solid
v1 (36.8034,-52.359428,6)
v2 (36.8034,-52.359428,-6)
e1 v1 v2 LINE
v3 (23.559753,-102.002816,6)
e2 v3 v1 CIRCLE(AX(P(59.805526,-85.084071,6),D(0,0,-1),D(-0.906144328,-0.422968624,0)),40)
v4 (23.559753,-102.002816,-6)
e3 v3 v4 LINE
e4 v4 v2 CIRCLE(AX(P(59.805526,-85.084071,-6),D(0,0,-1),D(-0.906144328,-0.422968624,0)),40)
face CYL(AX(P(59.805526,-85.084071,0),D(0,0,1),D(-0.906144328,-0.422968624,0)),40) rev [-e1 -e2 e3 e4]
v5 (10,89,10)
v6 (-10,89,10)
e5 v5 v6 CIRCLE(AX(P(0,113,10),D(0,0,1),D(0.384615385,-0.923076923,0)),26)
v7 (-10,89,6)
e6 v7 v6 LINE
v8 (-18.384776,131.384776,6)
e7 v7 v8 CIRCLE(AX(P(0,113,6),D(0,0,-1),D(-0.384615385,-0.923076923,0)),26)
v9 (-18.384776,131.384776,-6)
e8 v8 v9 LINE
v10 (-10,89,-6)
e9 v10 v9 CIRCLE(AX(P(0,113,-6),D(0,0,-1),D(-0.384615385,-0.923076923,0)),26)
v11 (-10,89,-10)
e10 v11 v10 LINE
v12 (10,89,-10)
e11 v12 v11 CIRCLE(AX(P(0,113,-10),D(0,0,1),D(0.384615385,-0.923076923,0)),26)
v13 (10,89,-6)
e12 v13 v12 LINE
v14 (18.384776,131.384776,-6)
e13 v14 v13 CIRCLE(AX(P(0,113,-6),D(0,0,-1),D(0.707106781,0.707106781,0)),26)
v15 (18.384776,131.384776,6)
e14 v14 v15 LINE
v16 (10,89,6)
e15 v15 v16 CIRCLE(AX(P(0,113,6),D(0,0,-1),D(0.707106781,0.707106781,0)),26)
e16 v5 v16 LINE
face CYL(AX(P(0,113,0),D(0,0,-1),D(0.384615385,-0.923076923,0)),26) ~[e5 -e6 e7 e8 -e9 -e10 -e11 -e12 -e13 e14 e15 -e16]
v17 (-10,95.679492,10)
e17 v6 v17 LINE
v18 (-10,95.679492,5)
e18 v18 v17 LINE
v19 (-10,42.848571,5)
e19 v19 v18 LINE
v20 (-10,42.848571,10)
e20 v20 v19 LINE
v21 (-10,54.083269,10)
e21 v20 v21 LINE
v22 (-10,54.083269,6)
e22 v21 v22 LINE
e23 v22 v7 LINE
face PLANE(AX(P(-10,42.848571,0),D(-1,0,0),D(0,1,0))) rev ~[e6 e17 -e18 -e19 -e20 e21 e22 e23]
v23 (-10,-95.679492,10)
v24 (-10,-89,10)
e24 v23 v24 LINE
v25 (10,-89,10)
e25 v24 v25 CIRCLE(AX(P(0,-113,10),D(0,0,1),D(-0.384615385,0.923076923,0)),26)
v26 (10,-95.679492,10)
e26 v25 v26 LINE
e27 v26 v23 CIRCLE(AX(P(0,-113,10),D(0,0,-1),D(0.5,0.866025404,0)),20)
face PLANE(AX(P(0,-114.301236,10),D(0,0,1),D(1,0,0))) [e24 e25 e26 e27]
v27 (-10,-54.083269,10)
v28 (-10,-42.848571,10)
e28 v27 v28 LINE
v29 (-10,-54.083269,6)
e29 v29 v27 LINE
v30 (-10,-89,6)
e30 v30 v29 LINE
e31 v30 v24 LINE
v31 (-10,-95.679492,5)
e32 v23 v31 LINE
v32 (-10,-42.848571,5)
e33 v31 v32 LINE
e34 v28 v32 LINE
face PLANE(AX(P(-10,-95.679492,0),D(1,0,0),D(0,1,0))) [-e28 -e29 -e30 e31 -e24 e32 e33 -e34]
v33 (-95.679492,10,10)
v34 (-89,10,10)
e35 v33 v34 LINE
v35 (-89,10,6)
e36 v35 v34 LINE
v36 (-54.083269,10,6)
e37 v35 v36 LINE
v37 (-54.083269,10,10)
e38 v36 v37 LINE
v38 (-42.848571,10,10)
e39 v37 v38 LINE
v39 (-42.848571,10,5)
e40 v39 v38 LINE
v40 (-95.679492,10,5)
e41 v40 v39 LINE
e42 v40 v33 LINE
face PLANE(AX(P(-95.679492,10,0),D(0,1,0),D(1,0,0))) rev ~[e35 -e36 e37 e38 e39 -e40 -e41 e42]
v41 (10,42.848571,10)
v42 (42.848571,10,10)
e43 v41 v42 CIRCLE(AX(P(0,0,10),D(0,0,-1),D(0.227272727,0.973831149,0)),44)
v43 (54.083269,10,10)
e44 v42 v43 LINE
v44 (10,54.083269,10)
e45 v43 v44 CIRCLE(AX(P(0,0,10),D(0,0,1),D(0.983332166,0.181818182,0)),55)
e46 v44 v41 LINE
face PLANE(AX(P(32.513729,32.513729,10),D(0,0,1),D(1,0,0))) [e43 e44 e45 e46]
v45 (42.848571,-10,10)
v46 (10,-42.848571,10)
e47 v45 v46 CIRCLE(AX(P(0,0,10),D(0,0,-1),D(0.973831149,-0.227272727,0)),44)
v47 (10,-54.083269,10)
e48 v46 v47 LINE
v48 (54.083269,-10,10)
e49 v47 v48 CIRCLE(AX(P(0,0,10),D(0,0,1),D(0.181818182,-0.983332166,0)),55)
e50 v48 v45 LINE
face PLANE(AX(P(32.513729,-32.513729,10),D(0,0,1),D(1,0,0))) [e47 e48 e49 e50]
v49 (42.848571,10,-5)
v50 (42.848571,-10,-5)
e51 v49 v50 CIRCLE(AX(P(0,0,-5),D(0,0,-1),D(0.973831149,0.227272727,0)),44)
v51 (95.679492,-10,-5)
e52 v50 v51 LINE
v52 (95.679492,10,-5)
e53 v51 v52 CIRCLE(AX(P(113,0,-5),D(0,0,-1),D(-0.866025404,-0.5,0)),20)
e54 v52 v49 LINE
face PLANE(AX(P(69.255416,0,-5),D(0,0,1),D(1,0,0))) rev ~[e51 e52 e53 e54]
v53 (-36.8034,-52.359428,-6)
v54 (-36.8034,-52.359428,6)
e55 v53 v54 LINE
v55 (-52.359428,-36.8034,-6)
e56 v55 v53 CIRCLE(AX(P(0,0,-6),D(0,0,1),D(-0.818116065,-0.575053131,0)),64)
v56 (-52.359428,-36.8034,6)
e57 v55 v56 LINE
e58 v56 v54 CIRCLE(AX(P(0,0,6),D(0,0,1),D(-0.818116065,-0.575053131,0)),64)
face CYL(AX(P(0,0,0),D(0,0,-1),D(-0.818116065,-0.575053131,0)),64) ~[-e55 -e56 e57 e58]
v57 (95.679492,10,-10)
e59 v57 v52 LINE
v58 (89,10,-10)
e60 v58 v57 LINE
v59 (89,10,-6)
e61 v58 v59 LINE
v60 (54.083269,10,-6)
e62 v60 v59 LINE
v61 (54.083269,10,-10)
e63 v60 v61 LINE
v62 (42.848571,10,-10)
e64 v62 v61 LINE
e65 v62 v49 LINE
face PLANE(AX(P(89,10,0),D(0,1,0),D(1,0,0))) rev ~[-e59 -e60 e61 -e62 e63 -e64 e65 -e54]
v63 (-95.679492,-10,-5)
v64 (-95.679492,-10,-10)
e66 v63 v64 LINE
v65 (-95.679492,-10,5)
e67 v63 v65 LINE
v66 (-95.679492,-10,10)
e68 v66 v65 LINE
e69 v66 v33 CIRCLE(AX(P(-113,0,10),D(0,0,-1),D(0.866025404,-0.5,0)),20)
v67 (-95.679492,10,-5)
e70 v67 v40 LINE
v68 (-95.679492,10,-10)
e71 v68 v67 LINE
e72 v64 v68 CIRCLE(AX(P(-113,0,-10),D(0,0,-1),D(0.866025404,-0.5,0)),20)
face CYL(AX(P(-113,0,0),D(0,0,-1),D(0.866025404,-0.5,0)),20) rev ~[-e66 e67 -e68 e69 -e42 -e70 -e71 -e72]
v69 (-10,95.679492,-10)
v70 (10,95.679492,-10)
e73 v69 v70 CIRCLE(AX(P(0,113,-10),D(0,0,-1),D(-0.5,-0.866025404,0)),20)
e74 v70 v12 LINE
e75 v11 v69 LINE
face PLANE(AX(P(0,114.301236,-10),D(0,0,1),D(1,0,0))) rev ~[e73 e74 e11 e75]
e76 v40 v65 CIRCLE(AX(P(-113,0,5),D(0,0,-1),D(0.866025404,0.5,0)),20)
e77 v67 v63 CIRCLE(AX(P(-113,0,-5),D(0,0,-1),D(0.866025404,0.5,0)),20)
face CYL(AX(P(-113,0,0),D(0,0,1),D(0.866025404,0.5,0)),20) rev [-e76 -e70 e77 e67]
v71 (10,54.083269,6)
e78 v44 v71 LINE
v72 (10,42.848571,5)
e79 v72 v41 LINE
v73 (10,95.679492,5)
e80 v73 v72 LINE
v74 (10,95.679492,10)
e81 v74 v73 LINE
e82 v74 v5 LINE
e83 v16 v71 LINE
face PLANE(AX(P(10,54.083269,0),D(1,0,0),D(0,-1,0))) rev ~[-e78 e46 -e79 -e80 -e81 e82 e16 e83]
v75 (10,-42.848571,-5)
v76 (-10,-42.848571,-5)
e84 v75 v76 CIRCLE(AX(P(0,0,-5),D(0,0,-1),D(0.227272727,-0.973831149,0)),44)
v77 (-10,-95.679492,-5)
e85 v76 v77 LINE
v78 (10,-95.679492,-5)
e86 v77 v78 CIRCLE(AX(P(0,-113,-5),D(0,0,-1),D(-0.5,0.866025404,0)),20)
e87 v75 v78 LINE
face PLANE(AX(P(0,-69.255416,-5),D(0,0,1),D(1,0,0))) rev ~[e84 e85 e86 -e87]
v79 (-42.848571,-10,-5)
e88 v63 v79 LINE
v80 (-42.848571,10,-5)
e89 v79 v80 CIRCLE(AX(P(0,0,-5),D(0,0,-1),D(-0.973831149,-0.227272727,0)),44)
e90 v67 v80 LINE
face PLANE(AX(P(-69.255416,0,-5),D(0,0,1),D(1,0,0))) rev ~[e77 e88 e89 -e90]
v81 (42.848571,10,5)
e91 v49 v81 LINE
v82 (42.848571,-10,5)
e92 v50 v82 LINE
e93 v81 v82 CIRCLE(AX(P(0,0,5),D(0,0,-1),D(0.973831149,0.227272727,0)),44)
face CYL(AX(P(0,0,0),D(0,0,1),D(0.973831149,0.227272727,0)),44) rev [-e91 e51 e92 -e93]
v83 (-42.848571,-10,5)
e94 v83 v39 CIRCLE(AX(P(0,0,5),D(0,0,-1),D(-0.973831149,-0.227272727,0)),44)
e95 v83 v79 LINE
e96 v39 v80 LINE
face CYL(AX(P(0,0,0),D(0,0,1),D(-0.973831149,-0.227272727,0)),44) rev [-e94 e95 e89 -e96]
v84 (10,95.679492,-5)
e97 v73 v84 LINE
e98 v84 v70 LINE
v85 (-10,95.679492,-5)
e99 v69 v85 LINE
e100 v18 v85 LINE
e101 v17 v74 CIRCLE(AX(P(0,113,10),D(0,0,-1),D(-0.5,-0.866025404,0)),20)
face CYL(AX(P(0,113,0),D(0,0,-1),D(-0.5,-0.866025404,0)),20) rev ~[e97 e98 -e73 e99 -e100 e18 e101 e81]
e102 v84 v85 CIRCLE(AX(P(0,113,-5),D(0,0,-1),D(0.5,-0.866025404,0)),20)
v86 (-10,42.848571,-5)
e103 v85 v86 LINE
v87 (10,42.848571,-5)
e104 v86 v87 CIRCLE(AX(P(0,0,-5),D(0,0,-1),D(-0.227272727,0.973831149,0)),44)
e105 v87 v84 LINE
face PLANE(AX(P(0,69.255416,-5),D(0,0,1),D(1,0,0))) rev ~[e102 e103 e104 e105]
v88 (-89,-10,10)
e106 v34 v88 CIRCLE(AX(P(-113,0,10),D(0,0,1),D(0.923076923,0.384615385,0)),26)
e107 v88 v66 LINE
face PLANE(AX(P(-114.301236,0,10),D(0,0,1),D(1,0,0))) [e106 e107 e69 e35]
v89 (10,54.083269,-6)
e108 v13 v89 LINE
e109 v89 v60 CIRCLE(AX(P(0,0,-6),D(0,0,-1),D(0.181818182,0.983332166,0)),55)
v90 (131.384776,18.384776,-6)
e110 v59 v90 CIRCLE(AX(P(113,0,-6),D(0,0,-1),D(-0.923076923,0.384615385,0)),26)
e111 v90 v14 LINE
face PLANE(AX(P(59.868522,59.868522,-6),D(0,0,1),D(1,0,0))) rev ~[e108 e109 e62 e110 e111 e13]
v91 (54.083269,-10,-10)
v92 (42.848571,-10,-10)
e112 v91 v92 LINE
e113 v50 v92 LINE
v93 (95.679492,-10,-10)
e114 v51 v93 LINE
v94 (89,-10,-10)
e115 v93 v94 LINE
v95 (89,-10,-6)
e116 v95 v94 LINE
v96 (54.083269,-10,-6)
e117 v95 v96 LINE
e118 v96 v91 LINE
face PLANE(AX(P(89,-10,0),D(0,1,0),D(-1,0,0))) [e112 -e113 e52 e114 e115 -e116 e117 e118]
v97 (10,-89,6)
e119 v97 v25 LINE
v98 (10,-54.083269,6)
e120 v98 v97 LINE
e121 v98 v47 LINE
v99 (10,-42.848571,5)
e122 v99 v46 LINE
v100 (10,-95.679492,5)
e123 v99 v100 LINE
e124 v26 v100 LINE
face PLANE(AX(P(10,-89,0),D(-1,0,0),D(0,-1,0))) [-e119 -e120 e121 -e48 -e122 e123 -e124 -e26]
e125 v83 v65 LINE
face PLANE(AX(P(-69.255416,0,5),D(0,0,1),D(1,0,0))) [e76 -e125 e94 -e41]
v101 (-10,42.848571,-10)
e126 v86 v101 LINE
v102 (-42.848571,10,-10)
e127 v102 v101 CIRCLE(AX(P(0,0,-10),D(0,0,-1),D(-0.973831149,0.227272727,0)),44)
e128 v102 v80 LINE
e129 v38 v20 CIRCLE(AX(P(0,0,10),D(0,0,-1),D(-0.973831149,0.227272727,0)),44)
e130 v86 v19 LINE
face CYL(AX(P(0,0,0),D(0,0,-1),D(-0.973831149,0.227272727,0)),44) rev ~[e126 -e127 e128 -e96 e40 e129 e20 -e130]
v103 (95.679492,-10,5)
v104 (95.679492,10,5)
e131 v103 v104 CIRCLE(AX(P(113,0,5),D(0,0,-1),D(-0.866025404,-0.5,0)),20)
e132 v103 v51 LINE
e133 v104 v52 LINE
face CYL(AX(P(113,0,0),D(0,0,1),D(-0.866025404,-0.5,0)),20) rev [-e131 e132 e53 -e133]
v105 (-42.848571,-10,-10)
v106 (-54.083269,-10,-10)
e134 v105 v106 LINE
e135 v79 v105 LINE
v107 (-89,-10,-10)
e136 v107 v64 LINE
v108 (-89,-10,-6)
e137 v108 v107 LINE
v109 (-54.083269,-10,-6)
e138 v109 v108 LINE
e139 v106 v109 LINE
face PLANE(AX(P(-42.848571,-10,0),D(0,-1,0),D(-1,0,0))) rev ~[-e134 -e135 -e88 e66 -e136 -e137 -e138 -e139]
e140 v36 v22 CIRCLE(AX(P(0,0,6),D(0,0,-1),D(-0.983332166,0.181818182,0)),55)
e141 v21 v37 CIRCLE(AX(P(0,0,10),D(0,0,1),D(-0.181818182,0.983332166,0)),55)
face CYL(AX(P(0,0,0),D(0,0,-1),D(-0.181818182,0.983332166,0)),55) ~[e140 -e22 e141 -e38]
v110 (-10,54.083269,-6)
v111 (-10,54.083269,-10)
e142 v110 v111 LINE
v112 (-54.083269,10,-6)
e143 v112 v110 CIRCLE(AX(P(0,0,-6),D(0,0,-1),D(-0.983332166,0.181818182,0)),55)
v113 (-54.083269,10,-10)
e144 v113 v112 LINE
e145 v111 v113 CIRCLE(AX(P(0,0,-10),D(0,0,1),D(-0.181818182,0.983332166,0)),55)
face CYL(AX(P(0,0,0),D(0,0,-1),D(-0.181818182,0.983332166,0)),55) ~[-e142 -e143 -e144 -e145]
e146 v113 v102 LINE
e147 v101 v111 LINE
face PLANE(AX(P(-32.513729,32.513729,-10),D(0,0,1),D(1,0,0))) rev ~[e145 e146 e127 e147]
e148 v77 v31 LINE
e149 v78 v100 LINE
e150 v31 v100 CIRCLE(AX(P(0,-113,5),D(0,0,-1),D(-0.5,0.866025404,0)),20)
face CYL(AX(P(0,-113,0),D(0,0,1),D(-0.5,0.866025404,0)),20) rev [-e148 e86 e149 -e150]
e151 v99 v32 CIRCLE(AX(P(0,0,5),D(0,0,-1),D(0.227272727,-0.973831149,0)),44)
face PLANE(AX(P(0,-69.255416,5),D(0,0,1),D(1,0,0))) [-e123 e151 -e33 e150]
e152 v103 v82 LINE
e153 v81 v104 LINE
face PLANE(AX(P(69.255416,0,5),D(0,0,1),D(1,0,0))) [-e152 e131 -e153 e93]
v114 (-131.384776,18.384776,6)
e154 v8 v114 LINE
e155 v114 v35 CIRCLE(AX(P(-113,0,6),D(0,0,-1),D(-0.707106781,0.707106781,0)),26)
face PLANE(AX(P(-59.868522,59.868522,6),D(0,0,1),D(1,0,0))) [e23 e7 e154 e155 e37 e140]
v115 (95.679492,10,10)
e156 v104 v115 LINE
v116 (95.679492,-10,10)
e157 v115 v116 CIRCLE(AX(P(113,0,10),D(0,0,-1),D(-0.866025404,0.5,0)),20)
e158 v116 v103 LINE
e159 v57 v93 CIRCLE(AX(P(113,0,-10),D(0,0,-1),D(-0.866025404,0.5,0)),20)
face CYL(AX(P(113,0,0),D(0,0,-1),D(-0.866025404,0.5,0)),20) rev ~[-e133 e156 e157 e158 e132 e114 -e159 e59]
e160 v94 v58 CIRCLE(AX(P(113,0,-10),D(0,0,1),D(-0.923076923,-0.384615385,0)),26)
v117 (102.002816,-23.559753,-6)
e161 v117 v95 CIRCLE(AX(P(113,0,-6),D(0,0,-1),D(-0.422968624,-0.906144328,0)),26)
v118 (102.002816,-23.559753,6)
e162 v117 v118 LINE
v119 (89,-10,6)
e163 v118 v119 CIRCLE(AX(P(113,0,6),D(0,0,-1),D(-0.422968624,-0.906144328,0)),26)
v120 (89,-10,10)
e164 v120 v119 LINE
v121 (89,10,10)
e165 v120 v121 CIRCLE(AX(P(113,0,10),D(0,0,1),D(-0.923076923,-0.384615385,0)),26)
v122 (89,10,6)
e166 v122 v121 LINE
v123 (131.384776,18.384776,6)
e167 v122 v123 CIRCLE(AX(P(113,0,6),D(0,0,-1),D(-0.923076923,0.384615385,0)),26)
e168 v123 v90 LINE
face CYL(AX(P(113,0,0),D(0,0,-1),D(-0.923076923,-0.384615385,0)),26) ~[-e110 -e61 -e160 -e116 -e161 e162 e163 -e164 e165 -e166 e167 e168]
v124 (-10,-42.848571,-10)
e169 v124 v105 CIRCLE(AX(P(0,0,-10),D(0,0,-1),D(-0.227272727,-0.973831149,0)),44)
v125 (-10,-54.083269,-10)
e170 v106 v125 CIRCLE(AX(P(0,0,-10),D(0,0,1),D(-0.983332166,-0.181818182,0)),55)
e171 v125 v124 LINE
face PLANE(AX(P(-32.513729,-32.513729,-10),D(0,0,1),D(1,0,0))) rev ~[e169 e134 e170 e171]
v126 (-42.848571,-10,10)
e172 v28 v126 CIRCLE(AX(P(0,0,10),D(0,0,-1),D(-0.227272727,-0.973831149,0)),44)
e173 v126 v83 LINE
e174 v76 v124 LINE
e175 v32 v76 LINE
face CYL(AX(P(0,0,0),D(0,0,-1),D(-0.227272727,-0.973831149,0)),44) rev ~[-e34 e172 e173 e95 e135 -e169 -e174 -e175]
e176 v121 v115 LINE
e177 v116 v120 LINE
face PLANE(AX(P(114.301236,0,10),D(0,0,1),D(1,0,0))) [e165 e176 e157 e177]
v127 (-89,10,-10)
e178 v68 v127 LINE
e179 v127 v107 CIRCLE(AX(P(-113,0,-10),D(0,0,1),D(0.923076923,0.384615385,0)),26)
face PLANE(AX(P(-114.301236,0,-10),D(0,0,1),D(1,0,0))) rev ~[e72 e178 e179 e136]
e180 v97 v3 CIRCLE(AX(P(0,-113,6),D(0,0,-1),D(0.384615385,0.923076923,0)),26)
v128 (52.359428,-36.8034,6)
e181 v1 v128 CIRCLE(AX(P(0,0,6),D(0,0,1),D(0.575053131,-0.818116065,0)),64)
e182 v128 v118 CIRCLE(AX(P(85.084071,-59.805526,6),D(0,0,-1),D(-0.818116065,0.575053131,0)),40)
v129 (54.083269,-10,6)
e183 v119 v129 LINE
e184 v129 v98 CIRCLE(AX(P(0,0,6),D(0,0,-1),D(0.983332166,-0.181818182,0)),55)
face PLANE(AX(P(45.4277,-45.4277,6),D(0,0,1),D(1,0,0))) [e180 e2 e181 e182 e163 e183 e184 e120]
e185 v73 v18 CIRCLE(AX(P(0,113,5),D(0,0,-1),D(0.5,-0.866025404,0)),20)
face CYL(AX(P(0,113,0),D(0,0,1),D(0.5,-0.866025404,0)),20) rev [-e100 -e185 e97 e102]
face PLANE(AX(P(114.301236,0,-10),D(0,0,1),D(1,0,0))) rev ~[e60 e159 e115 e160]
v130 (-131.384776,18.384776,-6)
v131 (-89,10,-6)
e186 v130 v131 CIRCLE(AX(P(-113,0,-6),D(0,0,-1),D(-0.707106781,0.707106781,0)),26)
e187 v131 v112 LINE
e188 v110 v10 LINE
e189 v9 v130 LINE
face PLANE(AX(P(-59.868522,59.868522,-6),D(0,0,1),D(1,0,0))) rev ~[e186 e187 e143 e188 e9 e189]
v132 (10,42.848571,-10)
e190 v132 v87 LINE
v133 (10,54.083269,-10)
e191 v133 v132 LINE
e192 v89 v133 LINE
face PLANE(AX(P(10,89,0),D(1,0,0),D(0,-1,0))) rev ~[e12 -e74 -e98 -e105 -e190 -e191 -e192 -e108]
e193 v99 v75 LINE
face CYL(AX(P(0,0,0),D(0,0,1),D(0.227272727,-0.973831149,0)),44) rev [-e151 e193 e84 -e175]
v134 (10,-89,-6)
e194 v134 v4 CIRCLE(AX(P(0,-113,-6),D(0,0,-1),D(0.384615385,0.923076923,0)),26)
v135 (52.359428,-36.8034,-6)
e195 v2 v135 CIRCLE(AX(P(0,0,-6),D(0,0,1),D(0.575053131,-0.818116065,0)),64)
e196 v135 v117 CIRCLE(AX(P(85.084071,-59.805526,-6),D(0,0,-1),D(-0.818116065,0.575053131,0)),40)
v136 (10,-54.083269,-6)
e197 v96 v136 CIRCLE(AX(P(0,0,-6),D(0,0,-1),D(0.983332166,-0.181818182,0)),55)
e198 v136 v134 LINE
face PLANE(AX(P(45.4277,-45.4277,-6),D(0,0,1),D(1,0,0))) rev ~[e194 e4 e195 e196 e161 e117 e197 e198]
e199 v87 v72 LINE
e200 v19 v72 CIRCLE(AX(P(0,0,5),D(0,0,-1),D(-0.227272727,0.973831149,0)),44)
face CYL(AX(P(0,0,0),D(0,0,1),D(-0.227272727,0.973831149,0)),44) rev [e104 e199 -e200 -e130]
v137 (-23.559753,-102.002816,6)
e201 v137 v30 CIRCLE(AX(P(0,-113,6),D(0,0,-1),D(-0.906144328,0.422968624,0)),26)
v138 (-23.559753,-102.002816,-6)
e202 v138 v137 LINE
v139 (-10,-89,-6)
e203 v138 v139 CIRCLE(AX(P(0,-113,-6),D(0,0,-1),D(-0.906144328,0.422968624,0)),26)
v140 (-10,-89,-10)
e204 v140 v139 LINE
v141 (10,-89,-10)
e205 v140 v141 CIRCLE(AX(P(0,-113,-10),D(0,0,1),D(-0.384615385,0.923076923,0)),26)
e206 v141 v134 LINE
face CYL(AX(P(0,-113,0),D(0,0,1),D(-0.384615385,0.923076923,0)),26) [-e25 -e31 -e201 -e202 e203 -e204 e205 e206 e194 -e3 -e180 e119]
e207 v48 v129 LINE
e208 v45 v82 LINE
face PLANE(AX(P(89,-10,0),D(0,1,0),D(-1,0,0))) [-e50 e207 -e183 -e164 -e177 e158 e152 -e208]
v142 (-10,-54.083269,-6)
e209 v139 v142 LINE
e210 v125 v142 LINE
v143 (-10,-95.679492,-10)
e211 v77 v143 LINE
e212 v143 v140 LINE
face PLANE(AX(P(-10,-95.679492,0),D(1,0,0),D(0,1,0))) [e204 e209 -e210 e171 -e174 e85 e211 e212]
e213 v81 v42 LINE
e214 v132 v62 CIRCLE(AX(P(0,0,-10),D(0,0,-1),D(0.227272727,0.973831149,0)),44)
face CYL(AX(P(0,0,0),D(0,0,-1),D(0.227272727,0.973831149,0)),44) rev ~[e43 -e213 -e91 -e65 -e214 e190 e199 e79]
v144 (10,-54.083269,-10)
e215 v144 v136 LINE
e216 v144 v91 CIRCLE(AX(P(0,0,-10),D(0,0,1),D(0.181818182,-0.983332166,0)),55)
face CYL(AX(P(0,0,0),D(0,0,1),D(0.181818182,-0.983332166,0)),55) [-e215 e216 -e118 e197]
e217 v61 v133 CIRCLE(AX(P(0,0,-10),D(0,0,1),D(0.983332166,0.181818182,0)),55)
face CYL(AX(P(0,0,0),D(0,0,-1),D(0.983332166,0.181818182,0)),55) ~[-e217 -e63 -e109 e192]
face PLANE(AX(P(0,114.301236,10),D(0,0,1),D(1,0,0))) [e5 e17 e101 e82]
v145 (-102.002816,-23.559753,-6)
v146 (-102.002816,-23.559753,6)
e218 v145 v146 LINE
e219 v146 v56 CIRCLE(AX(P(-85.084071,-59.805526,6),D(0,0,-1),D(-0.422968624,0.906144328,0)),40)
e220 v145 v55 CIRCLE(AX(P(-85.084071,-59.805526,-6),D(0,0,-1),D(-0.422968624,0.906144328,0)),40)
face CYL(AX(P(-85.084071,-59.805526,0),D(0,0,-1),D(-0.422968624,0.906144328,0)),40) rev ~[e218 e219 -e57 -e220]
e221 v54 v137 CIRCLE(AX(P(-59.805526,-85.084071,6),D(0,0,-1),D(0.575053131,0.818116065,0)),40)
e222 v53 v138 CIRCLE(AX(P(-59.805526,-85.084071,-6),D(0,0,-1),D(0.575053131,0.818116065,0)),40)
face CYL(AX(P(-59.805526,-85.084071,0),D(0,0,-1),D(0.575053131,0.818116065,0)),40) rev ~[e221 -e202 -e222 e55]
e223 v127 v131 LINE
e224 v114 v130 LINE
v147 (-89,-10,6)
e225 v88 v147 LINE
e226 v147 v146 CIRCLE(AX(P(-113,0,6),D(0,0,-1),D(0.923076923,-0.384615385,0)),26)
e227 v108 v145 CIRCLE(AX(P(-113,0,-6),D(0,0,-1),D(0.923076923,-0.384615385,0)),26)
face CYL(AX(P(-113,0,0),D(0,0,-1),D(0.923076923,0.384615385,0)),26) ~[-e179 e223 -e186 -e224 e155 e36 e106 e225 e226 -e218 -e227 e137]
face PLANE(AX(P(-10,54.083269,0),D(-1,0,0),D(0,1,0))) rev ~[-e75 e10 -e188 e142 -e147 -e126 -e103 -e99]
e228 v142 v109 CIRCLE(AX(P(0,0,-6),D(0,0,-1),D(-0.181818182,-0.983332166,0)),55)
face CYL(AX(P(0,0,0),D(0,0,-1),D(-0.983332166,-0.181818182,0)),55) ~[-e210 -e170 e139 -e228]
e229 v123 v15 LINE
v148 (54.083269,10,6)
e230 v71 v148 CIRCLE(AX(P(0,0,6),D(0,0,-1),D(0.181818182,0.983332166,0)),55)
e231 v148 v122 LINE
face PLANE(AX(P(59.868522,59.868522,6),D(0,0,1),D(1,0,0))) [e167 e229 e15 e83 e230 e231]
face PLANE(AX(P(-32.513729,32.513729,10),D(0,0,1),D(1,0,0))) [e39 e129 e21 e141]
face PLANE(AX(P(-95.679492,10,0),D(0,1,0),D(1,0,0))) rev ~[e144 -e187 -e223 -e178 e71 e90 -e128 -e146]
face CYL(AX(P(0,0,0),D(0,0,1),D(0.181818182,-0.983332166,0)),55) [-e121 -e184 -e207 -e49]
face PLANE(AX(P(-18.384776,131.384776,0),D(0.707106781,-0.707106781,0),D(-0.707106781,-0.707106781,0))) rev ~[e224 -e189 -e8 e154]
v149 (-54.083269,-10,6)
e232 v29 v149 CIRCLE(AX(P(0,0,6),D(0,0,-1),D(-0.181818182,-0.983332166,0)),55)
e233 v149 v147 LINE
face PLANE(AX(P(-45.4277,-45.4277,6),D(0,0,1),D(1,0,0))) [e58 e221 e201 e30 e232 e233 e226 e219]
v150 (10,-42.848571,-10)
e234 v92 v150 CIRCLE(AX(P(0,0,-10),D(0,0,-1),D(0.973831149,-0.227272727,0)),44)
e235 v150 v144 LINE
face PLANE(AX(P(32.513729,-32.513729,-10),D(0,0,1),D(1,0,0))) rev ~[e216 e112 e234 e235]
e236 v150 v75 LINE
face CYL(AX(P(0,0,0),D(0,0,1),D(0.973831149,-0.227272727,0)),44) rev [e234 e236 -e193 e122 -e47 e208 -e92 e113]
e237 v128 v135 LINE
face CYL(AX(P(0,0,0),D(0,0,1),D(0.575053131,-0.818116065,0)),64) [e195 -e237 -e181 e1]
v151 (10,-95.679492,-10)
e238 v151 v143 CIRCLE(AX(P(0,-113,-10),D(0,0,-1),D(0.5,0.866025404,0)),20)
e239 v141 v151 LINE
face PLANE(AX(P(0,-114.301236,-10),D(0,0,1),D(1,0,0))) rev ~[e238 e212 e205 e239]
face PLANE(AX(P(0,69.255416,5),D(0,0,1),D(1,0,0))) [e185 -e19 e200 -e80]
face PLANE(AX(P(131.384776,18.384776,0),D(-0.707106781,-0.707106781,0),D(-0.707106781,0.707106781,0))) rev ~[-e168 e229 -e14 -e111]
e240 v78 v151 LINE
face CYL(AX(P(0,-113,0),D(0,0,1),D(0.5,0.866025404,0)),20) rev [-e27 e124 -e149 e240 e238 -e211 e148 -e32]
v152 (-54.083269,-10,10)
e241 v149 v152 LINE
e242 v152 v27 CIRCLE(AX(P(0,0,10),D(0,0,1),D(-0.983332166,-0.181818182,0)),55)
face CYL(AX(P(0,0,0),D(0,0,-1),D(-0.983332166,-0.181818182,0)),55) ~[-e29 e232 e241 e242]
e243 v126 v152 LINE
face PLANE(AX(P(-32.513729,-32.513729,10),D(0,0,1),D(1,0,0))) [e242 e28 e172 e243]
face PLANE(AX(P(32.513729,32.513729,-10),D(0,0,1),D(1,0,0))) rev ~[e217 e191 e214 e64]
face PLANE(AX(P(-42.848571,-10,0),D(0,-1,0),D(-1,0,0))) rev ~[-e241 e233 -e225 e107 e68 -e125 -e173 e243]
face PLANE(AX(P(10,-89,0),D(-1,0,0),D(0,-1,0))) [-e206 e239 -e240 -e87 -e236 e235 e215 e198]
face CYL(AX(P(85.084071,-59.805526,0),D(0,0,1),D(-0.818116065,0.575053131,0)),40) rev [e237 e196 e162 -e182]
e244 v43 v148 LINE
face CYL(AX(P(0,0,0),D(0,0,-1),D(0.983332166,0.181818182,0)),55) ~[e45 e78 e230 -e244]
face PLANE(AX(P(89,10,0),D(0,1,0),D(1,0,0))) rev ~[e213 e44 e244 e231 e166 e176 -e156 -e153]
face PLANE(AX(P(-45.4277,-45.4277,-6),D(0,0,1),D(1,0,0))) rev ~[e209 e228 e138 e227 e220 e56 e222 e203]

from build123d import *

# Parameters (mm, degrees)
BOSS_EXTRUDE1_DEPTH   = 5
BOSS_EXTRUDE1_2_DEPTH = 5
BOSS_EXTRUDE1_3_DEPTH = 5
BOSS_EXTRUDE1_4_DEPTH = 5
BOSS_EXTRUDE2_DEPTH   = 10
BOSS_EXTRUDE3_DEPTH   = 6
BOSS_EXTRUDE4_DEPTH   = 10


with BuildPart() as part:
    # Sketch1 → Boss-Extrude1 (new, symmetric)
    with BuildSketch(Plane.XY):
        with BuildLine():
            Line((-42.848570571, 10), (-95.679491924, 10))
            ThreePointArc((-95.679491924, 10), (-93, 0), (-95.679491924, -10))
            Line((-95.679491924, -10), (-42.848570571, -10))
            ThreePointArc((-42.848570571, -10), (-44, 0), (-42.848570571, 10))
        make_face()
    extrude(amount=BOSS_EXTRUDE1_DEPTH, both=True)



with BuildPart() as body_2:
    # Sketch1 → Boss-Extrude1 2 (new, symmetric)
    with BuildSketch(Plane.XY):
        with BuildLine():
            Line((-10, 95.679491924), (-10, 42.848570571))
            ThreePointArc((-10, 42.848570571), (0, 44), (10, 42.848570571))
            Line((10, 42.848570571), (10, 95.679491924))
            ThreePointArc((10, 95.679491924), (0, 93), (-10, 95.679491924))
        make_face()
    extrude(amount=BOSS_EXTRUDE1_2_DEPTH, both=True)


with BuildPart() as body_3:
    # Sketch1 → Boss-Extrude1 3 (new, symmetric)
    with BuildSketch(Plane.XY):
        with BuildLine():
            Line((-10, -42.848570571), (-10, -95.679491924))
            ThreePointArc((-10, -95.679491924), (0, -93), (10, -95.679491924))
            Line((10, -95.679491924), (10, -42.848570571))
            ThreePointArc((10, -42.848570571), (0, -44), (-10, -42.848570571))
        make_face()
    extrude(amount=BOSS_EXTRUDE1_3_DEPTH, both=True)


with BuildPart() as body_4:
    # Sketch1 → Boss-Extrude1 4 (new, symmetric)
    with BuildSketch(Plane.XY):
        with BuildLine():
            Line((95.679491924, 10), (42.848570571, 10))
            ThreePointArc((42.848570571, 10), (44, 0), (42.848570571, -10))
            Line((42.848570571, -10), (95.679491924, -10))
            ThreePointArc((95.679491924, -10), (93, 0), (95.679491924, 10))
        make_face()
    extrude(amount=BOSS_EXTRUDE1_4_DEPTH, both=True)


with BuildPart() as part_1:
    add(part.part)

    add(body_2.part)  # Boss-Extrude2 merges body 2

    add(body_3.part)  # Boss-Extrude2 merges body 3

    add(body_4.part)  # Boss-Extrude2 merges body 4
    # Sketch1<3> → Boss-Extrude2 (add, symmetric)
    with BuildSketch(Plane.XY):
        with BuildLine():
            ThreePointArc((-10, 54.083269132), (-38.890872965, 38.890872965), (-54.083269132, 10))
            Line((-54.083269132, 10), (-42.848570571, 10))
            ThreePointArc((-42.848570571, 10), (-31.112698372, 31.112698372), (-10, 42.848570571))
            Line((-10, 42.848570571), (-10, 54.083269132))
        make_face()
        with BuildLine():
            Line((-42.848570571, -10), (-54.083269132, -10))
            ThreePointArc((-54.083269132, -10), (-38.890872965, -38.890872965), (-10, -54.083269132))
            Line((-10, -54.083269132), (-10, -42.848570571))
            ThreePointArc((-10, -42.848570571), (-31.112698372, -31.112698372), (-42.848570571, -10))
        make_face()
        with BuildLine():
            Line((10, 54.083269132), (10, 42.848570571))
            ThreePointArc((10, 42.848570571), (31.112698372, 31.112698372), (42.848570571, 10))
            Line((42.848570571, 10), (54.083269132, 10))
            ThreePointArc((54.083269132, 10), (38.890872965, 38.890872965), (10, 54.083269132))
        make_face()
        with BuildLine():
            ThreePointArc((42.848570571, -10), (31.112698372, -31.112698372), (10, -42.848570571))
            Line((10, -42.848570571), (10, -54.083269132))
            ThreePointArc((10, -54.083269132), (38.890872965, -38.890872965), (54.083269132, -10))
            Line((54.083269132, -10), (42.848570571, -10))
        make_face()
    extrude(amount=BOSS_EXTRUDE2_DEPTH, both=True)

    # Sketch1<4> → Boss-Extrude3 (add, symmetric)
    with BuildSketch(Plane.XY):
        with BuildLine():
            ThreePointArc((-131.384776311, 18.384776311), (-107.954328319, 25.505709112), (-89, 10))
            Line((-89, 10), (-54.083269132, 10))
            ThreePointArc((-54.083269132, 10), (-38.890872965, 38.890872965), (-10, 54.083269132))
            Line((-10, 54.083269132), (-10, 89))
            ThreePointArc((-10, 89), (-25.505709112, 107.954328319), (-18.384776311, 131.384776311))
            Line((-18.384776311, 131.384776311), (-131.384776311, 18.384776311))
        make_face()
        with BuildLine():
            Line((-54.083269132, -10), (-89, -10))
            ThreePointArc((-89, -10), (-94.233874983, -17.995348061), (-102.002815768, -23.559752524))
            ThreePointArc((-102.002815768, -23.559752524), (-74.773631801, -21.15717706), (-52.359428182, -36.803400392))
            ThreePointArc((-52.359428182, -36.803400392), (-45.254833996, -45.254833996), (-36.803400392, -52.359428182))
            ThreePointArc((-36.803400392, -52.359428182), (-21.15717706, -74.773631801), (-23.559752524, -102.002815768))
            ThreePointArc((-23.559752524, -102.002815768), (-17.995348061, -94.233874983), (-10, -89))
            Line((-10, -89), (-10, -54.083269132))
            ThreePointArc((-10, -54.083269132), (-38.890872965, -38.890872965), (-54.083269132, -10))
        make_face()
        with BuildLine():
            Line((131.384776311, 18.384776311), (18.384776311, 131.384776311))
            ThreePointArc((18.384776311, 131.384776311), (25.505709112, 107.954328319), (10, 89))
            Line((10, 89), (10, 54.083269132))
            ThreePointArc((10, 54.083269132), (38.890872965, 38.890872965), (54.083269132, 10))
            Line((54.083269132, 10), (89, 10))
            ThreePointArc((89, 10), (107.954328319, 25.505709112), (131.384776311, 18.384776311))
        make_face()
        with BuildLine():
            ThreePointArc((52.359428182, -36.803400392), (74.773631801, -21.15717706), (102.002815768, -23.559752524))
            ThreePointArc((102.002815768, -23.559752524), (94.233874983, -17.995348061), (89, -10))
            Line((89, -10), (54.083269132, -10))
            ThreePointArc((54.083269132, -10), (38.890872965, -38.890872965), (10, -54.083269132))
            Line((10, -54.083269132), (10, -89))
            ThreePointArc((10, -89), (17.995348061, -94.233874983), (23.559752524, -102.002815768))
            ThreePointArc((23.559752524, -102.002815768), (21.15717706, -74.773631801), (36.803400392, -52.359428182))
            ThreePointArc((36.803400392, -52.359428182), (45.254833996, -45.254833996), (52.359428182, -36.803400392))
        make_face()
    extrude(amount=BOSS_EXTRUDE3_DEPTH, both=True)

    # Sketch1<5> → Boss-Extrude4 (add, symmetric)
    with BuildSketch(Plane.XY):
        with BuildLine():
            ThreePointArc((-95.679491924, -10), (-133, 0), (-95.679491924, 10))
            Line((-95.679491924, 10), (-89, 10))
            ThreePointArc((-89, 10), (-139, 0), (-89, -10))
            Line((-89, -10), (-95.679491924, -10))
        make_face()
        with BuildLine():
            ThreePointArc((10, 89), (0, 139), (-10, 89))
            Line((-10, 89), (-10, 95.679491924))
            ThreePointArc((-10, 95.679491924), (0, 133), (10, 95.679491924))
            Line((10, 95.679491924), (10, 89))
        make_face()
        with BuildLine():
            ThreePointArc((89, -10), (139, 0), (89, 10))
            Line((89, 10), (95.679491924, 10))
            ThreePointArc((95.679491924, 10), (133, 0), (95.679491924, -10))
            Line((95.679491924, -10), (89, -10))
        make_face()
        with BuildLine():
            Line((-10, -95.679491924), (-10, -89))
            ThreePointArc((-10, -89), (0, -139), (10, -89))
            Line((10, -89), (10, -95.679491924))
            ThreePointArc((10, -95.679491924), (0, -133), (-10, -95.679491924))
        make_face()
    extrude(amount=BOSS_EXTRUDE4_DEPTH, both=True)


solid = part_1.part
